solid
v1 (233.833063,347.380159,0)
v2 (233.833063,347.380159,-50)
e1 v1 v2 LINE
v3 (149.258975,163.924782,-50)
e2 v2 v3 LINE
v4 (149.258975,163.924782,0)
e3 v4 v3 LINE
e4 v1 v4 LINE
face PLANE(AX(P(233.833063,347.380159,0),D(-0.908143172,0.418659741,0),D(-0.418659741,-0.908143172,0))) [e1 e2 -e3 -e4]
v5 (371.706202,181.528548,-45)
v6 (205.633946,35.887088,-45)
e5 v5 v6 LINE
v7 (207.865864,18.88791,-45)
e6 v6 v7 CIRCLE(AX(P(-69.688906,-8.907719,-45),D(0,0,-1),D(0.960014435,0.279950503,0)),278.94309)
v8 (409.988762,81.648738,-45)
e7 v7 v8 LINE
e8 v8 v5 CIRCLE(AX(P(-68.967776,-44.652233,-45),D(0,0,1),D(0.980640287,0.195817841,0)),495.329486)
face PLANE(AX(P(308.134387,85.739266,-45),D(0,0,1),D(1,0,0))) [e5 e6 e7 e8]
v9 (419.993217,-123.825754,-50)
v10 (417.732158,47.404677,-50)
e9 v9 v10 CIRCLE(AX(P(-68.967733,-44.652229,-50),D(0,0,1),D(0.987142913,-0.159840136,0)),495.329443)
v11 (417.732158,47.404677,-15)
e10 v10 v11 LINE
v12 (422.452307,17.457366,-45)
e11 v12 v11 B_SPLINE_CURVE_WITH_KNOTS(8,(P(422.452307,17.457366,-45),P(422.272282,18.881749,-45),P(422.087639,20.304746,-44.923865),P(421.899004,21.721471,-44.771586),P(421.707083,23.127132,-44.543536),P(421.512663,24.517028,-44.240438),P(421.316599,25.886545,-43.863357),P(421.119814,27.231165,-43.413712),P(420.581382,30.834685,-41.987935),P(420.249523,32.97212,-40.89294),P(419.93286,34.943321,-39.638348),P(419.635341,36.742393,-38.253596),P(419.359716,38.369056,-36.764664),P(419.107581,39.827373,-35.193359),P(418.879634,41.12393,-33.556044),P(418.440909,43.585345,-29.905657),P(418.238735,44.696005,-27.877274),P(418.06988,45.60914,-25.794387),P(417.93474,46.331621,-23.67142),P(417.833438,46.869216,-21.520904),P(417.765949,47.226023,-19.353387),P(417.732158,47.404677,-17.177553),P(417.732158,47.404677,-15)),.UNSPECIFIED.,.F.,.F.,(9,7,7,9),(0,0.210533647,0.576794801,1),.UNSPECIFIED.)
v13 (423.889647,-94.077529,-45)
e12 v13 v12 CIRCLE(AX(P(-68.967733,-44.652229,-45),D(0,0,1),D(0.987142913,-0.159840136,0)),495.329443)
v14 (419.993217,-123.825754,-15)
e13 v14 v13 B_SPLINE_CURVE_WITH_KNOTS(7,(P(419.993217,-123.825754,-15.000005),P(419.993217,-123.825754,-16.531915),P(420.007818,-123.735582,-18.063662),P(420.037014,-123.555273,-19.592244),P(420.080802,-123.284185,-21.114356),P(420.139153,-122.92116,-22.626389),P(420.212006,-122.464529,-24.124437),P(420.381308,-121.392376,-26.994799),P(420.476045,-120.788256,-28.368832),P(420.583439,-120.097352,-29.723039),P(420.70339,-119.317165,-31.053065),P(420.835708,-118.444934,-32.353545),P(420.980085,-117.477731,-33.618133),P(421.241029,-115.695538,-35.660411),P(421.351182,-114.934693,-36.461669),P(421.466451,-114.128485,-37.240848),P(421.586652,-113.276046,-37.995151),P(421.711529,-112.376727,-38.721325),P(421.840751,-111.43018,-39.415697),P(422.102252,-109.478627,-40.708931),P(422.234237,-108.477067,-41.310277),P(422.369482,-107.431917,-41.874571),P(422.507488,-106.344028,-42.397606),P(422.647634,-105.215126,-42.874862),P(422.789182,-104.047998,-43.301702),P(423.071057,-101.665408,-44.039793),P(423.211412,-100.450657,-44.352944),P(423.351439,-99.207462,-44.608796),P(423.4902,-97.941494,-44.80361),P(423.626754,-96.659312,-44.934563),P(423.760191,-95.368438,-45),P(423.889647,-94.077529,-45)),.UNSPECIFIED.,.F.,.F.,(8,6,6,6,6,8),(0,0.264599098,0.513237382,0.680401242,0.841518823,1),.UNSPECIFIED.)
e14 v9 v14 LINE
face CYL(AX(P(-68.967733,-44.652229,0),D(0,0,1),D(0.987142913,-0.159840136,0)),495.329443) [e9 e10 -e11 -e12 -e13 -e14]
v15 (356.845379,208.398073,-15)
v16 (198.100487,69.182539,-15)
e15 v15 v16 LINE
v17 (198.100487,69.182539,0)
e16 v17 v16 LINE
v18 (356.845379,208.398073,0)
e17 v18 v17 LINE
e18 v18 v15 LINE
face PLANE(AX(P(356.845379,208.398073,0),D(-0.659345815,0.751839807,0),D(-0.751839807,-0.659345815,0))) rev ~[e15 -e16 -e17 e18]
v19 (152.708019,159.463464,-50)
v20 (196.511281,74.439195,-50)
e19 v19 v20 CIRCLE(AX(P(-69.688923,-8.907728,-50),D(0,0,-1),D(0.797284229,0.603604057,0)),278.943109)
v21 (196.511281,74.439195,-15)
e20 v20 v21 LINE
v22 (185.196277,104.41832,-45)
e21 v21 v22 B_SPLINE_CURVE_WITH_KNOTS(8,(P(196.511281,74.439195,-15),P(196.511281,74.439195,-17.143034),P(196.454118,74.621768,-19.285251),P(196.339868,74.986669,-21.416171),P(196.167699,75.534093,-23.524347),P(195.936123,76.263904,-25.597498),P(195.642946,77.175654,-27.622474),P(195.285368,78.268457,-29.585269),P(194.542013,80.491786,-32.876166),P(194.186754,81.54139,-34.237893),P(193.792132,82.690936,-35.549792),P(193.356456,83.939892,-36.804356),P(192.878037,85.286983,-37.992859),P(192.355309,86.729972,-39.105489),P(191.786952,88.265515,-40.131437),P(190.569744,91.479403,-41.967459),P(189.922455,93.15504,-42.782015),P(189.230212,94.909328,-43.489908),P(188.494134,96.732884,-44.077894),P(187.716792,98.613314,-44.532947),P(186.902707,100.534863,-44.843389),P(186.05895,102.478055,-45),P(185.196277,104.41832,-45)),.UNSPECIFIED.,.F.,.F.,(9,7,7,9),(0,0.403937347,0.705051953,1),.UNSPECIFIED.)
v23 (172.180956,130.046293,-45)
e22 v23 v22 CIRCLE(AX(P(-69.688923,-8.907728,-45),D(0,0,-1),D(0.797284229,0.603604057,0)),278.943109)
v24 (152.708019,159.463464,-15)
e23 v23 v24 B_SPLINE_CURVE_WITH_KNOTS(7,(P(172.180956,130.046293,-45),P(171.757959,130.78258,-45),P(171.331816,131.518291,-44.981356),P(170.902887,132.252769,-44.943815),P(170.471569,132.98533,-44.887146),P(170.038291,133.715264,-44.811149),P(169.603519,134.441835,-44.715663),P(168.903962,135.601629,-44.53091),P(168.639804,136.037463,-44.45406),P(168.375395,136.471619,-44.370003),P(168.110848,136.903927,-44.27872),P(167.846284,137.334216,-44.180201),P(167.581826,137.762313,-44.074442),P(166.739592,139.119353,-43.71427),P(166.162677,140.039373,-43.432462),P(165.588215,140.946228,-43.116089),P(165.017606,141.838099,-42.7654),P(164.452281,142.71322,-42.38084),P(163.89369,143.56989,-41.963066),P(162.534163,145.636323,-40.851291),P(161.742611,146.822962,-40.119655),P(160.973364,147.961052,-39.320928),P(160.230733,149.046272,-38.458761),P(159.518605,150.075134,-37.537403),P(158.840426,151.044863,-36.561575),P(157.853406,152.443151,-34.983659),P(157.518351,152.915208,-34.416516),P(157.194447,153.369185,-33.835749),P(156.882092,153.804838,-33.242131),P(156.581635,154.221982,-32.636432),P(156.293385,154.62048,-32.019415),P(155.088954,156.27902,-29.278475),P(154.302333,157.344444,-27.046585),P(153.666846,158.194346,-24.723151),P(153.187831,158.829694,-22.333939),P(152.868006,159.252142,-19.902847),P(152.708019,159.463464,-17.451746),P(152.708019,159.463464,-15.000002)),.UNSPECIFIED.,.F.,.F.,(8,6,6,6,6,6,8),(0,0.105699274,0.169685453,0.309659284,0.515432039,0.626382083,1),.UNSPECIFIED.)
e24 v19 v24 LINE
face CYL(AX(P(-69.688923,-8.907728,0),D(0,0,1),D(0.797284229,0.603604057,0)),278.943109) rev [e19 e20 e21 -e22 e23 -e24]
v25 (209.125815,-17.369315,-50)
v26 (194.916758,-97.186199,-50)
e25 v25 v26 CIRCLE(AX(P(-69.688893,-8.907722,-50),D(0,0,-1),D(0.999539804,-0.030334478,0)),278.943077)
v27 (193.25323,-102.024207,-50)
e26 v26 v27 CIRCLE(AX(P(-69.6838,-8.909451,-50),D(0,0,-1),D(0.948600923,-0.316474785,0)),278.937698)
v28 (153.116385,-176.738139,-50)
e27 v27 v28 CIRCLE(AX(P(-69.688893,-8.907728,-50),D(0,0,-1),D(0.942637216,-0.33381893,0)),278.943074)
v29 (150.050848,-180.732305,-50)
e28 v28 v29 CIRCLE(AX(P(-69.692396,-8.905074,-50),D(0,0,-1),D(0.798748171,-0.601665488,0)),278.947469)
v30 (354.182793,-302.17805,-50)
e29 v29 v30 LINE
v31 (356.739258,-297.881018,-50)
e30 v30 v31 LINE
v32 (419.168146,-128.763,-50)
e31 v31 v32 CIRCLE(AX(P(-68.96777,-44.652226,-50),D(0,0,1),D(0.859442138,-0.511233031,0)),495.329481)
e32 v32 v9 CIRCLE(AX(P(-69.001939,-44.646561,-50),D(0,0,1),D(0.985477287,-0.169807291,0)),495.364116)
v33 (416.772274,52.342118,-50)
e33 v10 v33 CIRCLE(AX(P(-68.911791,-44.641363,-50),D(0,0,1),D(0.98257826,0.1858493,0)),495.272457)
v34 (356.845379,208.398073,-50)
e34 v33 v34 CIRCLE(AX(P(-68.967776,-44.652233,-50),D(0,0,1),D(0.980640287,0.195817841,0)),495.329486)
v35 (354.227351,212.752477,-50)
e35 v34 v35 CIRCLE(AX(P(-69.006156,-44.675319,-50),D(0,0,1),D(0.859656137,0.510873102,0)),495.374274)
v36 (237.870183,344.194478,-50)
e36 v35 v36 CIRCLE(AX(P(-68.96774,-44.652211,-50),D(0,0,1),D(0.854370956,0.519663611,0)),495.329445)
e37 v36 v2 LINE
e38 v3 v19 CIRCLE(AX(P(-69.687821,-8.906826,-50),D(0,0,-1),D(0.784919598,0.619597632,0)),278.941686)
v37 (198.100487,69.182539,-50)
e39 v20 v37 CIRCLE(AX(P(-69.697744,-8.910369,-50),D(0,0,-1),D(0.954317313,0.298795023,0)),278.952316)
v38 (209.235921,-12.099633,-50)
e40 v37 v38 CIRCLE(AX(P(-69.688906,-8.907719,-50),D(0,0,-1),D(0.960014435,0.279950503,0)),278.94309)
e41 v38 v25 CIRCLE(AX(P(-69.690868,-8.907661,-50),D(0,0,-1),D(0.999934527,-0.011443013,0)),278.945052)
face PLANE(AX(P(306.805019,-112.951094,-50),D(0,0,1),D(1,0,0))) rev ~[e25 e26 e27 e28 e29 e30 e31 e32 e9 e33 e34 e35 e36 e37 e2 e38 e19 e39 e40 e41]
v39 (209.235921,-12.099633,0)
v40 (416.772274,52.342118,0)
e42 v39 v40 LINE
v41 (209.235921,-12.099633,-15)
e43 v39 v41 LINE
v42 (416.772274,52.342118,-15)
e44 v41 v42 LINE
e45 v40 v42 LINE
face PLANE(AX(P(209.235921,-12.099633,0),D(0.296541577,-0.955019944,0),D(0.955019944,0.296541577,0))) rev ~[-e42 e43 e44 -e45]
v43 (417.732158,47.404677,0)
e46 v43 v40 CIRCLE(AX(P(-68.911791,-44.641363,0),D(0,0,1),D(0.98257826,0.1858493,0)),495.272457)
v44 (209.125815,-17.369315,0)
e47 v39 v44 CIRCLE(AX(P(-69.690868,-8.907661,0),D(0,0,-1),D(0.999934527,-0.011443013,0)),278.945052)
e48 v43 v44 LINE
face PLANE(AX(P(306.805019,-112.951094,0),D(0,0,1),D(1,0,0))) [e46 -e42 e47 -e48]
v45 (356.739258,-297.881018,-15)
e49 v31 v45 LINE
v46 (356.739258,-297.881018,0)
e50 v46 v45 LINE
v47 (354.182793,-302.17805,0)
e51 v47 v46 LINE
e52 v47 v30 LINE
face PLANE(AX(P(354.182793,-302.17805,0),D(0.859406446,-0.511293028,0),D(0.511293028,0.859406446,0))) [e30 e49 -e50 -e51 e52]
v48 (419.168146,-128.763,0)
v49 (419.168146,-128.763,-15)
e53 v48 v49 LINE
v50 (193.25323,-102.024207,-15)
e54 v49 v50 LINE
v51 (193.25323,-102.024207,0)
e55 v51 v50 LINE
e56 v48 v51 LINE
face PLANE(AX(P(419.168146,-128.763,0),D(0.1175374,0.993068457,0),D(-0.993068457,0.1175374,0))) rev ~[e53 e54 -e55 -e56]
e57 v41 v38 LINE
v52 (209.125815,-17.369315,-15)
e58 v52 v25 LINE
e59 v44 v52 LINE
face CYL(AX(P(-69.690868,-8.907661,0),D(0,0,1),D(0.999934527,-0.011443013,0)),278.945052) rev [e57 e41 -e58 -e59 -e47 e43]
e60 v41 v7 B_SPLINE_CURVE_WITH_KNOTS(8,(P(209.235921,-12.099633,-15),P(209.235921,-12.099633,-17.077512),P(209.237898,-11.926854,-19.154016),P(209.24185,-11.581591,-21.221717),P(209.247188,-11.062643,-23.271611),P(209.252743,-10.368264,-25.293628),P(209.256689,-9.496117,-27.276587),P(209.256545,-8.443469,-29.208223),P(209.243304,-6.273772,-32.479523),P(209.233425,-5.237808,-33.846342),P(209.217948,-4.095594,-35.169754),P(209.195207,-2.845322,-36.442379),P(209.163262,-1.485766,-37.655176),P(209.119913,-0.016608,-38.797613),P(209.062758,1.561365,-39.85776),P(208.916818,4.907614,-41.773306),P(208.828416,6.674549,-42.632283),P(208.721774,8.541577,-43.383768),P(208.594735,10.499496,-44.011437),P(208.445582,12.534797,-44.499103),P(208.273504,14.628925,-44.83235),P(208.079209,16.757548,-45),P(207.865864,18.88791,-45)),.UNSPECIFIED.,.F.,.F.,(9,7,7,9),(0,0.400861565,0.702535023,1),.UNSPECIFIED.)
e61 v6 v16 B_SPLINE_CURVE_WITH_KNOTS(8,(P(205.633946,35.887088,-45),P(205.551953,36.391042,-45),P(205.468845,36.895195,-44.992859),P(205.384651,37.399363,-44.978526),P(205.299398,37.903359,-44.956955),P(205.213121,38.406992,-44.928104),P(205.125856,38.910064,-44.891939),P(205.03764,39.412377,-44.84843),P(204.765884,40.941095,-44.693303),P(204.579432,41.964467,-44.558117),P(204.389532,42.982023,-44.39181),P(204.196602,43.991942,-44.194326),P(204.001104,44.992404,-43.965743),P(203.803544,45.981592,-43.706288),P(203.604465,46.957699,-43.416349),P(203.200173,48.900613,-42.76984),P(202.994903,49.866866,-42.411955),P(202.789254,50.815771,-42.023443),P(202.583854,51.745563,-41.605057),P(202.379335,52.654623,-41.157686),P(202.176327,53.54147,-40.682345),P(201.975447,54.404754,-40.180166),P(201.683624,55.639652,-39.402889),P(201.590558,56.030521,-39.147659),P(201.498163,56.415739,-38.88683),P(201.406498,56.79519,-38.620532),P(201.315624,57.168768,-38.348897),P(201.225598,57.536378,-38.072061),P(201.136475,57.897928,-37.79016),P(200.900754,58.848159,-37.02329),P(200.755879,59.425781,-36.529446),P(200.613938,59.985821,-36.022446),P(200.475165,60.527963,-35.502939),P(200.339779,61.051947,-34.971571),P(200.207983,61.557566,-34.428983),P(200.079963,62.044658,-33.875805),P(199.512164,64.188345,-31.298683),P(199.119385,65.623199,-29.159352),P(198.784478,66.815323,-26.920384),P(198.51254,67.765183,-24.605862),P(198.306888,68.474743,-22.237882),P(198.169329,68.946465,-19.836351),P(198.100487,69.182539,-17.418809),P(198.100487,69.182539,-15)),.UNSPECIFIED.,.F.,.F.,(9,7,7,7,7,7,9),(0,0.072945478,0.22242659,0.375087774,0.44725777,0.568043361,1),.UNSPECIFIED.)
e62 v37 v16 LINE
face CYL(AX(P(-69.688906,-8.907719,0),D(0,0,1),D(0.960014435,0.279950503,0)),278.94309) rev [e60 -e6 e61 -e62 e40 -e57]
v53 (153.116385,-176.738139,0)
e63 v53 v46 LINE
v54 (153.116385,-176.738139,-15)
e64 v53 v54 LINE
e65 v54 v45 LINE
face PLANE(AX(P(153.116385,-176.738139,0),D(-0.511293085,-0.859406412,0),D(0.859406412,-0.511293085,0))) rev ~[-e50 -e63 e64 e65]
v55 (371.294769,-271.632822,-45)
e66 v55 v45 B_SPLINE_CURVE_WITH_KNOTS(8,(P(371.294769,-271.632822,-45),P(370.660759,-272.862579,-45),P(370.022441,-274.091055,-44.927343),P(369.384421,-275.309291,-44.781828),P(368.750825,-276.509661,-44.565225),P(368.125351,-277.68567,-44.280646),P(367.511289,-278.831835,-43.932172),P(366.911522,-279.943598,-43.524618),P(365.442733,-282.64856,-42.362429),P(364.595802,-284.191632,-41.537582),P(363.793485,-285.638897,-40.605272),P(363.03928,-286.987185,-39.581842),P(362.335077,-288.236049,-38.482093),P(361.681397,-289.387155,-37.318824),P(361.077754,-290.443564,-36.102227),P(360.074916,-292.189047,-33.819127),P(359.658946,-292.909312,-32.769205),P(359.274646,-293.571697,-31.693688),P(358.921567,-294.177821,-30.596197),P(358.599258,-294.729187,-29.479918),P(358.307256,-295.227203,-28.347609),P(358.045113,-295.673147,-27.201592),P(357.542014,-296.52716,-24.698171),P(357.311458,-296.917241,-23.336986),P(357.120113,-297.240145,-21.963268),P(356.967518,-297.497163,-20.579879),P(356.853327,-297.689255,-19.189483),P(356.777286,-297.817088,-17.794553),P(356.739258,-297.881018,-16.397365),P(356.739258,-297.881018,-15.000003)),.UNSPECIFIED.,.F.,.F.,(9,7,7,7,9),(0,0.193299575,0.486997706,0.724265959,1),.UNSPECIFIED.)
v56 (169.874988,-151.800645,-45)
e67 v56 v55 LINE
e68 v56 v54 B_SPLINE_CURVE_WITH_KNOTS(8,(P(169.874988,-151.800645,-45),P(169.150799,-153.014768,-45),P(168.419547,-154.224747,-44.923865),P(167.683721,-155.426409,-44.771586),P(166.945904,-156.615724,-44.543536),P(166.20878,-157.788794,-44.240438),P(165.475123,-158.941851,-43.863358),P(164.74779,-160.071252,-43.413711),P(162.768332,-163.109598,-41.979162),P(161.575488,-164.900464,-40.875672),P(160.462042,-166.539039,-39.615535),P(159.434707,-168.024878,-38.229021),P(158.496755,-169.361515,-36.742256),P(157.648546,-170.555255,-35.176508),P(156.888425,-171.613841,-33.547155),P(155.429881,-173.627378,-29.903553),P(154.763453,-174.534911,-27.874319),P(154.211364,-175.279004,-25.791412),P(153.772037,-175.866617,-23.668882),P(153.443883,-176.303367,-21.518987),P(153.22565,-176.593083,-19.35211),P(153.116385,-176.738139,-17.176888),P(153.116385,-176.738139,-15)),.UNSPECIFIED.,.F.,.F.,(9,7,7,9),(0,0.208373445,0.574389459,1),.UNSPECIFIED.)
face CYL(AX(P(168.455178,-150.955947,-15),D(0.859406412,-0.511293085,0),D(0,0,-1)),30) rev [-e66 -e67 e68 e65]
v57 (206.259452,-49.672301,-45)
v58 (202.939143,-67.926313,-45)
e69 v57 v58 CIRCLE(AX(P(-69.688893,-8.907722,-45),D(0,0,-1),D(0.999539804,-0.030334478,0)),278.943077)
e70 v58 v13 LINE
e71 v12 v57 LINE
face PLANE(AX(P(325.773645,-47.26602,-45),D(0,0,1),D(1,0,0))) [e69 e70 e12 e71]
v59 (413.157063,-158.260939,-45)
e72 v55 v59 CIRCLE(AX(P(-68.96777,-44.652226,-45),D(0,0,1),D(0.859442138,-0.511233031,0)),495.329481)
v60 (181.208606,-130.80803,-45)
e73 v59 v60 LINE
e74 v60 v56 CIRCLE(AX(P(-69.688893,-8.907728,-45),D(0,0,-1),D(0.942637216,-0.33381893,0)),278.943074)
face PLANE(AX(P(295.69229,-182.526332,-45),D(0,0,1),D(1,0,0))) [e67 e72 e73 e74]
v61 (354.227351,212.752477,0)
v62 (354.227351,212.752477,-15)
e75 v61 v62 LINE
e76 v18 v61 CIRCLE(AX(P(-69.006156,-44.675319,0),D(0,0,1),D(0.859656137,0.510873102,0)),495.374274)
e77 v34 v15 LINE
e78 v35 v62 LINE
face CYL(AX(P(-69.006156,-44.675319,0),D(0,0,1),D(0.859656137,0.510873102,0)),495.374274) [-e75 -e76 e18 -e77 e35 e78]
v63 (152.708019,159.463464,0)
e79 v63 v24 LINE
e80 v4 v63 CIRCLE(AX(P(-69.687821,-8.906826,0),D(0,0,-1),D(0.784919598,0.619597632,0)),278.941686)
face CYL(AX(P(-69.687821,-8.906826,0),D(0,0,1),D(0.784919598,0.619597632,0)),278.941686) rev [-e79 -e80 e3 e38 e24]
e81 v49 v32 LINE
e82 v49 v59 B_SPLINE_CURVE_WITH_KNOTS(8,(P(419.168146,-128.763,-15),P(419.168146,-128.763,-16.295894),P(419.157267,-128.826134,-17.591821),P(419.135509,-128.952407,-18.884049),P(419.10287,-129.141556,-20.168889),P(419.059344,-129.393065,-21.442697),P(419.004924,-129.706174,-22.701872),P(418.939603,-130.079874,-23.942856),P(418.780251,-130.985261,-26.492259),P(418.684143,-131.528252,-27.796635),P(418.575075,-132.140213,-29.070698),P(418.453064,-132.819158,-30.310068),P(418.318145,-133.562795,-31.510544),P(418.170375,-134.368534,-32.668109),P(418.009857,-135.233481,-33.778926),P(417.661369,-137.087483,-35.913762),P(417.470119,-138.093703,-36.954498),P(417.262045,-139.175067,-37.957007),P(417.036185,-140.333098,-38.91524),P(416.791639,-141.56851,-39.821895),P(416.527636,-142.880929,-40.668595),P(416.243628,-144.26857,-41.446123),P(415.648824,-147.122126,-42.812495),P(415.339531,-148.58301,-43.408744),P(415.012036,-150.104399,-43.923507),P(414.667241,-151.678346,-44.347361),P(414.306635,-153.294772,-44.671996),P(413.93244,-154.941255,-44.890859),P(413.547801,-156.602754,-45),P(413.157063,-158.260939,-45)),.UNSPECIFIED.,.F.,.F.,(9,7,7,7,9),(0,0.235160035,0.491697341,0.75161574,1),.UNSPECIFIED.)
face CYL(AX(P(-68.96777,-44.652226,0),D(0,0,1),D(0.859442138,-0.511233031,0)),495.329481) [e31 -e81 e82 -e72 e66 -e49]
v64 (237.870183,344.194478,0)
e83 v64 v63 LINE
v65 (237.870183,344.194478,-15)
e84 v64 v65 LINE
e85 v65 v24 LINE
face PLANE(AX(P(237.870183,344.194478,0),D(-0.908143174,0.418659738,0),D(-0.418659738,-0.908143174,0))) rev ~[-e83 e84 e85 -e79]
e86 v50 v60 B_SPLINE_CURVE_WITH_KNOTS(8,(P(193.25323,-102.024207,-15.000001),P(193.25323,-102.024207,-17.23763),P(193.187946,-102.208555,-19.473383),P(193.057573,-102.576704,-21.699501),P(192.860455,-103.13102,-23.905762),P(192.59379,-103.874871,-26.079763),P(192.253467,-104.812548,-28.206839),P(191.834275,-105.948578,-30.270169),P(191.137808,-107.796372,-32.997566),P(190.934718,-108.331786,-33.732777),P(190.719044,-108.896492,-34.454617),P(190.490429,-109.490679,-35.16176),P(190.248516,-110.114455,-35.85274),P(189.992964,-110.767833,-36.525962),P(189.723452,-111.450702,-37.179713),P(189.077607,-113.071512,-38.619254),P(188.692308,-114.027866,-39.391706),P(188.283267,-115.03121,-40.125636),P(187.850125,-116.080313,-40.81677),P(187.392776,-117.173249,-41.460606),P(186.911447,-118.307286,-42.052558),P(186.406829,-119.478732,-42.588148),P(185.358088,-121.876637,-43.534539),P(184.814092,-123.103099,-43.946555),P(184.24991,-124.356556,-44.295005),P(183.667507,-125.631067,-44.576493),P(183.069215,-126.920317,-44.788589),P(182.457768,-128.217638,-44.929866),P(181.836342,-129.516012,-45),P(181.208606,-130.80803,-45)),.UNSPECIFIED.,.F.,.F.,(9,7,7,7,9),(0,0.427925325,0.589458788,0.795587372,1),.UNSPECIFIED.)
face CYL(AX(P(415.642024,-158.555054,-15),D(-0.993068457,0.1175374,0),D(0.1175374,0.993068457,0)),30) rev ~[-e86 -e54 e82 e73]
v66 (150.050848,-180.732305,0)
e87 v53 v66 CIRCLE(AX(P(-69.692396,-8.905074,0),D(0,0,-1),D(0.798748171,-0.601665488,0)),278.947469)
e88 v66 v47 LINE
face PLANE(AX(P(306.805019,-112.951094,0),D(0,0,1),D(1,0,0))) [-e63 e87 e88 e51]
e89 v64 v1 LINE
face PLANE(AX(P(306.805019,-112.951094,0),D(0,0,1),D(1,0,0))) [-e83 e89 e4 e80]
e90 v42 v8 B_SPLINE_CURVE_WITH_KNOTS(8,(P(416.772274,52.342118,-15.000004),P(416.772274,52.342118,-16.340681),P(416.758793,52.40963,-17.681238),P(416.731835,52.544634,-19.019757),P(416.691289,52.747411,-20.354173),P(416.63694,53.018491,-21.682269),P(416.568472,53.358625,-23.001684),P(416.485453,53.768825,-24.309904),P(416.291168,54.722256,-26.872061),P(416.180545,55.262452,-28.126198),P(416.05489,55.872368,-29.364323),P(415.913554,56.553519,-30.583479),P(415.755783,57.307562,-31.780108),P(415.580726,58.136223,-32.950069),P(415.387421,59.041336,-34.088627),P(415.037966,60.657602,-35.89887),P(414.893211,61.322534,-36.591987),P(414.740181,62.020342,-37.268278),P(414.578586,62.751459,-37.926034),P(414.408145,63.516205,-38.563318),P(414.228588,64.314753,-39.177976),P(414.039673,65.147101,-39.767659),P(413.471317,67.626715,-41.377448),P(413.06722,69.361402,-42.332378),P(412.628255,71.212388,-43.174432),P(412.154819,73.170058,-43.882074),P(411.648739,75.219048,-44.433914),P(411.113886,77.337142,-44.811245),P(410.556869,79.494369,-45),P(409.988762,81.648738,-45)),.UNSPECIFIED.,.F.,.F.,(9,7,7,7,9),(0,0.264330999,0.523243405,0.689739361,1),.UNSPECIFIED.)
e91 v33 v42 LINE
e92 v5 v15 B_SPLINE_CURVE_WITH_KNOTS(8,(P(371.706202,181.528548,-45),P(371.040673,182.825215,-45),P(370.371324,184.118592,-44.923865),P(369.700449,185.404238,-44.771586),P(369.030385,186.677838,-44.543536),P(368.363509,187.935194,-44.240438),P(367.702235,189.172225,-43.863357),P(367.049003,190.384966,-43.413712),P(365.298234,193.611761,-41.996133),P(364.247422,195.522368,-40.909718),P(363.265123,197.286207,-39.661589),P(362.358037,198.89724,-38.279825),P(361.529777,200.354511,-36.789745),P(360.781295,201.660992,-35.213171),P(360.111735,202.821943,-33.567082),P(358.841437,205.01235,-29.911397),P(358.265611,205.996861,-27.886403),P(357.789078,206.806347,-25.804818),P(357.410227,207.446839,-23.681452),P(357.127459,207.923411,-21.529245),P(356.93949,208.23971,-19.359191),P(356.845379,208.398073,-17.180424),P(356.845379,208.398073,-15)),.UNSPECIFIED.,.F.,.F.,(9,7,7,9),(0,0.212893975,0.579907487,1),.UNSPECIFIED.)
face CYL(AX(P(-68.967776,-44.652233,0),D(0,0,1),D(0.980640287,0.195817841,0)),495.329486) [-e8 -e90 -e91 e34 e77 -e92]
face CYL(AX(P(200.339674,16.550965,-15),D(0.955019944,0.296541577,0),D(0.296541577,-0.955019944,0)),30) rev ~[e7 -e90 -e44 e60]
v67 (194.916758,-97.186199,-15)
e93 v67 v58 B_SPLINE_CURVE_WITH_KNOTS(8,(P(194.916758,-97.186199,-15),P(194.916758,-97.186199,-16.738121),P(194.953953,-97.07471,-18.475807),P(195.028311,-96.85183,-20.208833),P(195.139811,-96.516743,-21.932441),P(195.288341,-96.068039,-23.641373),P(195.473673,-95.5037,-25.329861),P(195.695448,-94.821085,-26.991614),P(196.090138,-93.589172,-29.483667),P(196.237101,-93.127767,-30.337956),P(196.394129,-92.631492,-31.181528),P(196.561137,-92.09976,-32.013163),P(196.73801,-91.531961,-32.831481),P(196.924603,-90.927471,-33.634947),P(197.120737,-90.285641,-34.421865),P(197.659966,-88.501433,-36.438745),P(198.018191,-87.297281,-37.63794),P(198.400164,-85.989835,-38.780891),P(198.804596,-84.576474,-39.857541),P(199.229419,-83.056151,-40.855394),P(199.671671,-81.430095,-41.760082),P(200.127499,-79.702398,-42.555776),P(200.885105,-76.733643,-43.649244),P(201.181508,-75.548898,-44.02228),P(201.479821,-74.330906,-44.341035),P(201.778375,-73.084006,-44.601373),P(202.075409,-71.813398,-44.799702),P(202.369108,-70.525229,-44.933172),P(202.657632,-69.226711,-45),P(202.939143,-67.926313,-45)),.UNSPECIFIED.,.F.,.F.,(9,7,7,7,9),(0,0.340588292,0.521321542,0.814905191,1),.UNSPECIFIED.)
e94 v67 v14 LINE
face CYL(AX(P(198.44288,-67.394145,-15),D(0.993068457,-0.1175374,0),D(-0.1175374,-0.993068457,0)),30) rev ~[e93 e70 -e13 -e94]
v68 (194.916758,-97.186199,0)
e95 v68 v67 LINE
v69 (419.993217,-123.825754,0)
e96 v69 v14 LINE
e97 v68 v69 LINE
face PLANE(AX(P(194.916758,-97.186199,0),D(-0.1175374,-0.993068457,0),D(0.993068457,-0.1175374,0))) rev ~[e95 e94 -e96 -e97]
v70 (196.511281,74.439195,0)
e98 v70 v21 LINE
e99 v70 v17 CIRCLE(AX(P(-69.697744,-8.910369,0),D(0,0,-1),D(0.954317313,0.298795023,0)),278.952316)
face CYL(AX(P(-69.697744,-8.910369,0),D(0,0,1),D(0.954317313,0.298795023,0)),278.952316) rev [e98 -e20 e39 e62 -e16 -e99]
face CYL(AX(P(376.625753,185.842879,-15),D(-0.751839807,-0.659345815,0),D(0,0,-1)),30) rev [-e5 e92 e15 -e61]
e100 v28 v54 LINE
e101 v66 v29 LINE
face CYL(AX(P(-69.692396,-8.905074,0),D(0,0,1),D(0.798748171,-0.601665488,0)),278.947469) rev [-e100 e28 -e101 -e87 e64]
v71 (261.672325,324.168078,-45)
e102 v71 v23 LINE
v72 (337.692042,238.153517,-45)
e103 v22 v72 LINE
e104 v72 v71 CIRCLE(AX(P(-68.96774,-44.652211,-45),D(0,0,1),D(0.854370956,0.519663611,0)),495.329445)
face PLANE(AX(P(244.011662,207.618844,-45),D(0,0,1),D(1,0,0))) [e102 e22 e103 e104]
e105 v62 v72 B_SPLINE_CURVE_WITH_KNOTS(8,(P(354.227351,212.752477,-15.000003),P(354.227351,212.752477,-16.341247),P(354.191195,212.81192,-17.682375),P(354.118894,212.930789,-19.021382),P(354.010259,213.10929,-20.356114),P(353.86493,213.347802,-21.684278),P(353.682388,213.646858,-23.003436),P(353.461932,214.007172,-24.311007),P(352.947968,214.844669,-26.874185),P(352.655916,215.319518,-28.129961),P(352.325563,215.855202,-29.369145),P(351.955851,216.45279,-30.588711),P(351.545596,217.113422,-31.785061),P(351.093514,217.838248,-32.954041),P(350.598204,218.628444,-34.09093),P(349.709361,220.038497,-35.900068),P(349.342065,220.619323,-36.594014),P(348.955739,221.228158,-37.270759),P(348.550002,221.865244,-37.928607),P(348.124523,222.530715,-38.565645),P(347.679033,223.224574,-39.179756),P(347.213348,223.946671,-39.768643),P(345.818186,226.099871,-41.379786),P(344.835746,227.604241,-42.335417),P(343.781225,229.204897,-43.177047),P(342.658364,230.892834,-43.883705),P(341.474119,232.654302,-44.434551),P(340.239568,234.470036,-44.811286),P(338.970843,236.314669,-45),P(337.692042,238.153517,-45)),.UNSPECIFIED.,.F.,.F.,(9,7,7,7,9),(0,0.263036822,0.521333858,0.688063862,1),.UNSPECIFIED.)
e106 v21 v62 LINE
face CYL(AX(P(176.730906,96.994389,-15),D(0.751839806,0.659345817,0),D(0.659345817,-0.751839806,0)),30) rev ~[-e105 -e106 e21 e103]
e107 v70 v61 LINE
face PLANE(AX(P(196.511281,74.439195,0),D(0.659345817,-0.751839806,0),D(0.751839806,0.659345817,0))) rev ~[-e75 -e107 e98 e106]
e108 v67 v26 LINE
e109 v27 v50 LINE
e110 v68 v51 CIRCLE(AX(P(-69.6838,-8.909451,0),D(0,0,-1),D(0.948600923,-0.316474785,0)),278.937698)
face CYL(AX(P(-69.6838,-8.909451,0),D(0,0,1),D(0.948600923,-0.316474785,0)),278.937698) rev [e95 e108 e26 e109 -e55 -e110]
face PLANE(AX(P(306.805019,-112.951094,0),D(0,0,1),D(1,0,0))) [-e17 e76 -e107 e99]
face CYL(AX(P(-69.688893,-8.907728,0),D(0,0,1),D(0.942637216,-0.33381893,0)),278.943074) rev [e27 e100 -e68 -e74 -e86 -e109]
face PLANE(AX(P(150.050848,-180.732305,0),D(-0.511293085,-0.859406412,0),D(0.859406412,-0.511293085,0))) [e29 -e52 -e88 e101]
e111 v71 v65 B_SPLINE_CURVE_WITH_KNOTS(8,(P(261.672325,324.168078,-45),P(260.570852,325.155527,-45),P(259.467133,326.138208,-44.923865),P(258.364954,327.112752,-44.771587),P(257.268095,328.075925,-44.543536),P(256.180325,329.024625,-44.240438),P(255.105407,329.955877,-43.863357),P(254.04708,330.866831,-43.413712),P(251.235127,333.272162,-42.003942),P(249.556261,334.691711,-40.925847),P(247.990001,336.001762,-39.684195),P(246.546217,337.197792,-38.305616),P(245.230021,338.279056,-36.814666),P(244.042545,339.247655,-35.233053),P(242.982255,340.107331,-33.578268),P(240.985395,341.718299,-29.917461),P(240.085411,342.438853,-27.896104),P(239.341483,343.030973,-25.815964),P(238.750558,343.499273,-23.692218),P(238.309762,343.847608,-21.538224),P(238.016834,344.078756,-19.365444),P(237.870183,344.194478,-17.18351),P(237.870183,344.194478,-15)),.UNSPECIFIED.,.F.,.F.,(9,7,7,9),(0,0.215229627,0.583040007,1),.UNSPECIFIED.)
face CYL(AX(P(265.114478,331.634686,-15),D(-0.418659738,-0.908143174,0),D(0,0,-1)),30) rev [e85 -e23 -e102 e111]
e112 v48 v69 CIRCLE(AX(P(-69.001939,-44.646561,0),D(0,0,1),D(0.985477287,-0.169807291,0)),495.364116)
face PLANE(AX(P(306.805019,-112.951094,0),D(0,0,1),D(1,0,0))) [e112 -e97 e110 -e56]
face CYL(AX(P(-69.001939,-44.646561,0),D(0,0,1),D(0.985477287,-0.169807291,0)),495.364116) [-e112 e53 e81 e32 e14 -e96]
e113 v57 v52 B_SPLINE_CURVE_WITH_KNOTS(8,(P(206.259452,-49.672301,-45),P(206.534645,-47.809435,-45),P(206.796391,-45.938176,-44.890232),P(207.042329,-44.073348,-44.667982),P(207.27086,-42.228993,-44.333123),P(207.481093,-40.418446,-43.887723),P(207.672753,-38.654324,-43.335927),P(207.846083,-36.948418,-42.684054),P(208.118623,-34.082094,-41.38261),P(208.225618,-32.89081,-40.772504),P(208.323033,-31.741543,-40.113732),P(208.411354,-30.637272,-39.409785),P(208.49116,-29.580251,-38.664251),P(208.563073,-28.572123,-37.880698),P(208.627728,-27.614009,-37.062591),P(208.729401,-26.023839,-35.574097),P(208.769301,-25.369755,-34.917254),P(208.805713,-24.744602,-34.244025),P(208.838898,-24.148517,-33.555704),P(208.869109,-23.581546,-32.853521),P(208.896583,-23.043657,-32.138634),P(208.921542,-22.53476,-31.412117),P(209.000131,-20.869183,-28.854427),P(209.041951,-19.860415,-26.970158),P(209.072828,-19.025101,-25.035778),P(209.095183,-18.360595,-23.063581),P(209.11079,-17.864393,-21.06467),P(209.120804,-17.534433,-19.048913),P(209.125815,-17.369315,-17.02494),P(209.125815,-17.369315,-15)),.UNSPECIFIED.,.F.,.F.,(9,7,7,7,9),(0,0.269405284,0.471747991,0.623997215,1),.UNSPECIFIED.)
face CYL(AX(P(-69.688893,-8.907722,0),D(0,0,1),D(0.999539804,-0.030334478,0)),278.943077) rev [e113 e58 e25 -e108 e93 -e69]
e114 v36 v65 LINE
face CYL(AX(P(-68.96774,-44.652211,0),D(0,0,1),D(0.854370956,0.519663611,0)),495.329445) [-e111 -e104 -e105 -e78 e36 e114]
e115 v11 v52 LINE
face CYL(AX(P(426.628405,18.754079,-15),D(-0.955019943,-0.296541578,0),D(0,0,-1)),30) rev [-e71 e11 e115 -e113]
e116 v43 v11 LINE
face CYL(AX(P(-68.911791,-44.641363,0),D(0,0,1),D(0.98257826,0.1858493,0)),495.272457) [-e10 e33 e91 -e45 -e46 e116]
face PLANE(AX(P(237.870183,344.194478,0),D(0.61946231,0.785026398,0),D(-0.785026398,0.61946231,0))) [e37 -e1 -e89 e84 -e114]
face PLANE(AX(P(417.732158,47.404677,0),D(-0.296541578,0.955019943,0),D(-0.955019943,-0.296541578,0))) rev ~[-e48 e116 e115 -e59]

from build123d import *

# Parameters (mm, degrees)
F1_DEPTH = 50
F2_DEPTH = 45
F3_R     = 30


with BuildPart() as f1:
    # F0 (on Top) → F1 (new body)
    with BuildSketch(Plane.XY):
        with BuildLine():
            ThreePointArc((194.916758, -97.186199), (194.096086, -99.609017), (193.25323, -102.024207))
            Line((193.25323, -102.024207), (419.168146, -128.763))
            ThreePointArc((419.168146, -128.763), (419.586918, -126.295419), (419.993217, -123.825754))
            Line((419.993217, -123.825754), (194.916758, -97.186199))
        make_face()
        with BuildLine():
            Line((419.168146, -128.763), (193.25323, -102.024207))
            ThreePointArc((193.25323, -102.024207), (176.040994, -140.915536), (153.116385, -176.738139))
            Line((153.116385, -176.738139), (356.739258, -297.881018))
            ThreePointArc((356.739258, -297.881018), (395.712182, -216.186004), (419.168146, -128.763))
        make_face()
        with BuildLine():
            Line((356.739258, -297.881018), (153.116385, -176.738139))
            ThreePointArc((153.116385, -176.738139), (151.592629, -178.742138), (150.050848, -180.732305))
            Line((150.050848, -180.732305), (354.182793, -302.17805))
            Line((354.182793, -302.17805), (356.739258, -297.881018))
        make_face()
        with BuildLine():
            ThreePointArc((209.125815, -17.369315), (204.936498, -57.796725), (194.916758, -97.186199))
            Line((194.916758, -97.186199), (419.993217, -123.825754))
            ThreePointArc((419.993217, -123.825754), (426.318532, -38.112086), (417.732158, 47.404677))
            Line((417.732158, 47.404677), (209.125815, -17.369315))
        make_face()
        with BuildLine():
            ThreePointArc((209.235921, -12.099633), (209.193315, -14.734734), (209.125815, -17.369315))
            Line((209.125815, -17.369315), (417.732158, 47.404677))
            ThreePointArc((417.732158, 47.404677), (417.258484, 49.874616), (416.772274, 52.342118))
            Line((416.772274, 52.342118), (209.235921, -12.099633))
        make_face()
        with BuildLine():
            ThreePointArc((198.100487, 69.182539), (206.672827, 28.953078), (209.235921, -12.099633))
            Line((209.235921, -12.099633), (416.772274, 52.342118))
            ThreePointArc((416.772274, 52.342118), (393.439703, 132.916412), (356.845379, 208.398073))
            Line((356.845379, 208.398073), (198.100487, 69.182539))
        make_face()
        with BuildLine():
            ThreePointArc((196.511281, 74.439195), (197.31882, 71.814778), (198.100487, 69.182539))
            Line((198.100487, 69.182539), (356.845379, 208.398073))
            ThreePointArc((356.845379, 208.398073), (355.541948, 210.578631), (354.227351, 212.752477))
            Line((354.227351, 212.752477), (196.511281, 74.439195))
        make_face()
        with BuildLine():
            ThreePointArc((152.708019, 159.463464), (178.280983, 118.842747), (196.511281, 74.439195))
            Line((196.511281, 74.439195), (354.227351, 212.752477))
            ThreePointArc((354.227351, 212.752477), (301.918092, 283.669214), (237.870183, 344.194478))
            Line((237.870183, 344.194478), (152.708019, 159.463464))
        make_face()
        with BuildLine():
            ThreePointArc((149.258975, 163.924782), (150.994771, 161.702839), (152.708019, 159.463464))
            Line((152.708019, 159.463464), (237.870183, 344.194478))
            Line((237.870183, 344.194478), (233.833063, 347.380159))
            Line((233.833063, 347.380159), (149.258975, 163.924782))
        make_face()
    extrude(amount=-F1_DEPTH)

    # F0 (on Top) → F2 (cut)
    with BuildSketch(Plane.XY):
        with BuildLine():
            Line((419.168146, -128.763), (193.25323, -102.024207))
            ThreePointArc((193.25323, -102.024207), (176.040994, -140.915536), (153.116385, -176.738139))
            Line((153.116385, -176.738139), (356.739258, -297.881018))
            ThreePointArc((356.739258, -297.881018), (395.712182, -216.186004), (419.168146, -128.763))
        make_face()
        with BuildLine():
            ThreePointArc((209.125815, -17.369315), (204.936498, -57.796725), (194.916758, -97.186199))
            Line((194.916758, -97.186199), (419.993217, -123.825754))
            ThreePointArc((419.993217, -123.825754), (426.318532, -38.112086), (417.732158, 47.404677))
            Line((417.732158, 47.404677), (209.125815, -17.369315))
        make_face()
        with BuildLine():
            ThreePointArc((198.100487, 69.182539), (206.672827, 28.953078), (209.235921, -12.099633))
            Line((209.235921, -12.099633), (416.772274, 52.342118))
            ThreePointArc((416.772274, 52.342118), (393.439703, 132.916412), (356.845379, 208.398073))
            Line((356.845379, 208.398073), (198.100487, 69.182539))
        make_face()
        with BuildLine():
            ThreePointArc((152.708019, 159.463464), (178.280983, 118.842747), (196.511281, 74.439195))
            Line((196.511281, 74.439195), (354.227351, 212.752477))
            ThreePointArc((354.227351, 212.752477), (301.918092, 283.669214), (237.870183, 344.194478))
            Line((237.870183, 344.194478), (152.708019, 159.463464))
        make_face()
    extrude(amount=-F2_DEPTH, mode=Mode.SUBTRACT)

    # F3
    f3_edges = [f1.edges().sort_by_distance(p)[0] for p in [
        (195.289101, 251.828971, -45),
        (275.369316, 143.595836, -45),
        (313.004098, 20.121242, -45),
        (307.454988, -110.505976, -45),
        (254.927822, -237.309578, -45),
        (277.472933, 138.790306, -45),
        (313.428987, 15.017681, -45),
        (306.210688, -115.393603, -45),
    ]]
    fillet(f3_edges, radius=F3_R)


solid = f1.part
